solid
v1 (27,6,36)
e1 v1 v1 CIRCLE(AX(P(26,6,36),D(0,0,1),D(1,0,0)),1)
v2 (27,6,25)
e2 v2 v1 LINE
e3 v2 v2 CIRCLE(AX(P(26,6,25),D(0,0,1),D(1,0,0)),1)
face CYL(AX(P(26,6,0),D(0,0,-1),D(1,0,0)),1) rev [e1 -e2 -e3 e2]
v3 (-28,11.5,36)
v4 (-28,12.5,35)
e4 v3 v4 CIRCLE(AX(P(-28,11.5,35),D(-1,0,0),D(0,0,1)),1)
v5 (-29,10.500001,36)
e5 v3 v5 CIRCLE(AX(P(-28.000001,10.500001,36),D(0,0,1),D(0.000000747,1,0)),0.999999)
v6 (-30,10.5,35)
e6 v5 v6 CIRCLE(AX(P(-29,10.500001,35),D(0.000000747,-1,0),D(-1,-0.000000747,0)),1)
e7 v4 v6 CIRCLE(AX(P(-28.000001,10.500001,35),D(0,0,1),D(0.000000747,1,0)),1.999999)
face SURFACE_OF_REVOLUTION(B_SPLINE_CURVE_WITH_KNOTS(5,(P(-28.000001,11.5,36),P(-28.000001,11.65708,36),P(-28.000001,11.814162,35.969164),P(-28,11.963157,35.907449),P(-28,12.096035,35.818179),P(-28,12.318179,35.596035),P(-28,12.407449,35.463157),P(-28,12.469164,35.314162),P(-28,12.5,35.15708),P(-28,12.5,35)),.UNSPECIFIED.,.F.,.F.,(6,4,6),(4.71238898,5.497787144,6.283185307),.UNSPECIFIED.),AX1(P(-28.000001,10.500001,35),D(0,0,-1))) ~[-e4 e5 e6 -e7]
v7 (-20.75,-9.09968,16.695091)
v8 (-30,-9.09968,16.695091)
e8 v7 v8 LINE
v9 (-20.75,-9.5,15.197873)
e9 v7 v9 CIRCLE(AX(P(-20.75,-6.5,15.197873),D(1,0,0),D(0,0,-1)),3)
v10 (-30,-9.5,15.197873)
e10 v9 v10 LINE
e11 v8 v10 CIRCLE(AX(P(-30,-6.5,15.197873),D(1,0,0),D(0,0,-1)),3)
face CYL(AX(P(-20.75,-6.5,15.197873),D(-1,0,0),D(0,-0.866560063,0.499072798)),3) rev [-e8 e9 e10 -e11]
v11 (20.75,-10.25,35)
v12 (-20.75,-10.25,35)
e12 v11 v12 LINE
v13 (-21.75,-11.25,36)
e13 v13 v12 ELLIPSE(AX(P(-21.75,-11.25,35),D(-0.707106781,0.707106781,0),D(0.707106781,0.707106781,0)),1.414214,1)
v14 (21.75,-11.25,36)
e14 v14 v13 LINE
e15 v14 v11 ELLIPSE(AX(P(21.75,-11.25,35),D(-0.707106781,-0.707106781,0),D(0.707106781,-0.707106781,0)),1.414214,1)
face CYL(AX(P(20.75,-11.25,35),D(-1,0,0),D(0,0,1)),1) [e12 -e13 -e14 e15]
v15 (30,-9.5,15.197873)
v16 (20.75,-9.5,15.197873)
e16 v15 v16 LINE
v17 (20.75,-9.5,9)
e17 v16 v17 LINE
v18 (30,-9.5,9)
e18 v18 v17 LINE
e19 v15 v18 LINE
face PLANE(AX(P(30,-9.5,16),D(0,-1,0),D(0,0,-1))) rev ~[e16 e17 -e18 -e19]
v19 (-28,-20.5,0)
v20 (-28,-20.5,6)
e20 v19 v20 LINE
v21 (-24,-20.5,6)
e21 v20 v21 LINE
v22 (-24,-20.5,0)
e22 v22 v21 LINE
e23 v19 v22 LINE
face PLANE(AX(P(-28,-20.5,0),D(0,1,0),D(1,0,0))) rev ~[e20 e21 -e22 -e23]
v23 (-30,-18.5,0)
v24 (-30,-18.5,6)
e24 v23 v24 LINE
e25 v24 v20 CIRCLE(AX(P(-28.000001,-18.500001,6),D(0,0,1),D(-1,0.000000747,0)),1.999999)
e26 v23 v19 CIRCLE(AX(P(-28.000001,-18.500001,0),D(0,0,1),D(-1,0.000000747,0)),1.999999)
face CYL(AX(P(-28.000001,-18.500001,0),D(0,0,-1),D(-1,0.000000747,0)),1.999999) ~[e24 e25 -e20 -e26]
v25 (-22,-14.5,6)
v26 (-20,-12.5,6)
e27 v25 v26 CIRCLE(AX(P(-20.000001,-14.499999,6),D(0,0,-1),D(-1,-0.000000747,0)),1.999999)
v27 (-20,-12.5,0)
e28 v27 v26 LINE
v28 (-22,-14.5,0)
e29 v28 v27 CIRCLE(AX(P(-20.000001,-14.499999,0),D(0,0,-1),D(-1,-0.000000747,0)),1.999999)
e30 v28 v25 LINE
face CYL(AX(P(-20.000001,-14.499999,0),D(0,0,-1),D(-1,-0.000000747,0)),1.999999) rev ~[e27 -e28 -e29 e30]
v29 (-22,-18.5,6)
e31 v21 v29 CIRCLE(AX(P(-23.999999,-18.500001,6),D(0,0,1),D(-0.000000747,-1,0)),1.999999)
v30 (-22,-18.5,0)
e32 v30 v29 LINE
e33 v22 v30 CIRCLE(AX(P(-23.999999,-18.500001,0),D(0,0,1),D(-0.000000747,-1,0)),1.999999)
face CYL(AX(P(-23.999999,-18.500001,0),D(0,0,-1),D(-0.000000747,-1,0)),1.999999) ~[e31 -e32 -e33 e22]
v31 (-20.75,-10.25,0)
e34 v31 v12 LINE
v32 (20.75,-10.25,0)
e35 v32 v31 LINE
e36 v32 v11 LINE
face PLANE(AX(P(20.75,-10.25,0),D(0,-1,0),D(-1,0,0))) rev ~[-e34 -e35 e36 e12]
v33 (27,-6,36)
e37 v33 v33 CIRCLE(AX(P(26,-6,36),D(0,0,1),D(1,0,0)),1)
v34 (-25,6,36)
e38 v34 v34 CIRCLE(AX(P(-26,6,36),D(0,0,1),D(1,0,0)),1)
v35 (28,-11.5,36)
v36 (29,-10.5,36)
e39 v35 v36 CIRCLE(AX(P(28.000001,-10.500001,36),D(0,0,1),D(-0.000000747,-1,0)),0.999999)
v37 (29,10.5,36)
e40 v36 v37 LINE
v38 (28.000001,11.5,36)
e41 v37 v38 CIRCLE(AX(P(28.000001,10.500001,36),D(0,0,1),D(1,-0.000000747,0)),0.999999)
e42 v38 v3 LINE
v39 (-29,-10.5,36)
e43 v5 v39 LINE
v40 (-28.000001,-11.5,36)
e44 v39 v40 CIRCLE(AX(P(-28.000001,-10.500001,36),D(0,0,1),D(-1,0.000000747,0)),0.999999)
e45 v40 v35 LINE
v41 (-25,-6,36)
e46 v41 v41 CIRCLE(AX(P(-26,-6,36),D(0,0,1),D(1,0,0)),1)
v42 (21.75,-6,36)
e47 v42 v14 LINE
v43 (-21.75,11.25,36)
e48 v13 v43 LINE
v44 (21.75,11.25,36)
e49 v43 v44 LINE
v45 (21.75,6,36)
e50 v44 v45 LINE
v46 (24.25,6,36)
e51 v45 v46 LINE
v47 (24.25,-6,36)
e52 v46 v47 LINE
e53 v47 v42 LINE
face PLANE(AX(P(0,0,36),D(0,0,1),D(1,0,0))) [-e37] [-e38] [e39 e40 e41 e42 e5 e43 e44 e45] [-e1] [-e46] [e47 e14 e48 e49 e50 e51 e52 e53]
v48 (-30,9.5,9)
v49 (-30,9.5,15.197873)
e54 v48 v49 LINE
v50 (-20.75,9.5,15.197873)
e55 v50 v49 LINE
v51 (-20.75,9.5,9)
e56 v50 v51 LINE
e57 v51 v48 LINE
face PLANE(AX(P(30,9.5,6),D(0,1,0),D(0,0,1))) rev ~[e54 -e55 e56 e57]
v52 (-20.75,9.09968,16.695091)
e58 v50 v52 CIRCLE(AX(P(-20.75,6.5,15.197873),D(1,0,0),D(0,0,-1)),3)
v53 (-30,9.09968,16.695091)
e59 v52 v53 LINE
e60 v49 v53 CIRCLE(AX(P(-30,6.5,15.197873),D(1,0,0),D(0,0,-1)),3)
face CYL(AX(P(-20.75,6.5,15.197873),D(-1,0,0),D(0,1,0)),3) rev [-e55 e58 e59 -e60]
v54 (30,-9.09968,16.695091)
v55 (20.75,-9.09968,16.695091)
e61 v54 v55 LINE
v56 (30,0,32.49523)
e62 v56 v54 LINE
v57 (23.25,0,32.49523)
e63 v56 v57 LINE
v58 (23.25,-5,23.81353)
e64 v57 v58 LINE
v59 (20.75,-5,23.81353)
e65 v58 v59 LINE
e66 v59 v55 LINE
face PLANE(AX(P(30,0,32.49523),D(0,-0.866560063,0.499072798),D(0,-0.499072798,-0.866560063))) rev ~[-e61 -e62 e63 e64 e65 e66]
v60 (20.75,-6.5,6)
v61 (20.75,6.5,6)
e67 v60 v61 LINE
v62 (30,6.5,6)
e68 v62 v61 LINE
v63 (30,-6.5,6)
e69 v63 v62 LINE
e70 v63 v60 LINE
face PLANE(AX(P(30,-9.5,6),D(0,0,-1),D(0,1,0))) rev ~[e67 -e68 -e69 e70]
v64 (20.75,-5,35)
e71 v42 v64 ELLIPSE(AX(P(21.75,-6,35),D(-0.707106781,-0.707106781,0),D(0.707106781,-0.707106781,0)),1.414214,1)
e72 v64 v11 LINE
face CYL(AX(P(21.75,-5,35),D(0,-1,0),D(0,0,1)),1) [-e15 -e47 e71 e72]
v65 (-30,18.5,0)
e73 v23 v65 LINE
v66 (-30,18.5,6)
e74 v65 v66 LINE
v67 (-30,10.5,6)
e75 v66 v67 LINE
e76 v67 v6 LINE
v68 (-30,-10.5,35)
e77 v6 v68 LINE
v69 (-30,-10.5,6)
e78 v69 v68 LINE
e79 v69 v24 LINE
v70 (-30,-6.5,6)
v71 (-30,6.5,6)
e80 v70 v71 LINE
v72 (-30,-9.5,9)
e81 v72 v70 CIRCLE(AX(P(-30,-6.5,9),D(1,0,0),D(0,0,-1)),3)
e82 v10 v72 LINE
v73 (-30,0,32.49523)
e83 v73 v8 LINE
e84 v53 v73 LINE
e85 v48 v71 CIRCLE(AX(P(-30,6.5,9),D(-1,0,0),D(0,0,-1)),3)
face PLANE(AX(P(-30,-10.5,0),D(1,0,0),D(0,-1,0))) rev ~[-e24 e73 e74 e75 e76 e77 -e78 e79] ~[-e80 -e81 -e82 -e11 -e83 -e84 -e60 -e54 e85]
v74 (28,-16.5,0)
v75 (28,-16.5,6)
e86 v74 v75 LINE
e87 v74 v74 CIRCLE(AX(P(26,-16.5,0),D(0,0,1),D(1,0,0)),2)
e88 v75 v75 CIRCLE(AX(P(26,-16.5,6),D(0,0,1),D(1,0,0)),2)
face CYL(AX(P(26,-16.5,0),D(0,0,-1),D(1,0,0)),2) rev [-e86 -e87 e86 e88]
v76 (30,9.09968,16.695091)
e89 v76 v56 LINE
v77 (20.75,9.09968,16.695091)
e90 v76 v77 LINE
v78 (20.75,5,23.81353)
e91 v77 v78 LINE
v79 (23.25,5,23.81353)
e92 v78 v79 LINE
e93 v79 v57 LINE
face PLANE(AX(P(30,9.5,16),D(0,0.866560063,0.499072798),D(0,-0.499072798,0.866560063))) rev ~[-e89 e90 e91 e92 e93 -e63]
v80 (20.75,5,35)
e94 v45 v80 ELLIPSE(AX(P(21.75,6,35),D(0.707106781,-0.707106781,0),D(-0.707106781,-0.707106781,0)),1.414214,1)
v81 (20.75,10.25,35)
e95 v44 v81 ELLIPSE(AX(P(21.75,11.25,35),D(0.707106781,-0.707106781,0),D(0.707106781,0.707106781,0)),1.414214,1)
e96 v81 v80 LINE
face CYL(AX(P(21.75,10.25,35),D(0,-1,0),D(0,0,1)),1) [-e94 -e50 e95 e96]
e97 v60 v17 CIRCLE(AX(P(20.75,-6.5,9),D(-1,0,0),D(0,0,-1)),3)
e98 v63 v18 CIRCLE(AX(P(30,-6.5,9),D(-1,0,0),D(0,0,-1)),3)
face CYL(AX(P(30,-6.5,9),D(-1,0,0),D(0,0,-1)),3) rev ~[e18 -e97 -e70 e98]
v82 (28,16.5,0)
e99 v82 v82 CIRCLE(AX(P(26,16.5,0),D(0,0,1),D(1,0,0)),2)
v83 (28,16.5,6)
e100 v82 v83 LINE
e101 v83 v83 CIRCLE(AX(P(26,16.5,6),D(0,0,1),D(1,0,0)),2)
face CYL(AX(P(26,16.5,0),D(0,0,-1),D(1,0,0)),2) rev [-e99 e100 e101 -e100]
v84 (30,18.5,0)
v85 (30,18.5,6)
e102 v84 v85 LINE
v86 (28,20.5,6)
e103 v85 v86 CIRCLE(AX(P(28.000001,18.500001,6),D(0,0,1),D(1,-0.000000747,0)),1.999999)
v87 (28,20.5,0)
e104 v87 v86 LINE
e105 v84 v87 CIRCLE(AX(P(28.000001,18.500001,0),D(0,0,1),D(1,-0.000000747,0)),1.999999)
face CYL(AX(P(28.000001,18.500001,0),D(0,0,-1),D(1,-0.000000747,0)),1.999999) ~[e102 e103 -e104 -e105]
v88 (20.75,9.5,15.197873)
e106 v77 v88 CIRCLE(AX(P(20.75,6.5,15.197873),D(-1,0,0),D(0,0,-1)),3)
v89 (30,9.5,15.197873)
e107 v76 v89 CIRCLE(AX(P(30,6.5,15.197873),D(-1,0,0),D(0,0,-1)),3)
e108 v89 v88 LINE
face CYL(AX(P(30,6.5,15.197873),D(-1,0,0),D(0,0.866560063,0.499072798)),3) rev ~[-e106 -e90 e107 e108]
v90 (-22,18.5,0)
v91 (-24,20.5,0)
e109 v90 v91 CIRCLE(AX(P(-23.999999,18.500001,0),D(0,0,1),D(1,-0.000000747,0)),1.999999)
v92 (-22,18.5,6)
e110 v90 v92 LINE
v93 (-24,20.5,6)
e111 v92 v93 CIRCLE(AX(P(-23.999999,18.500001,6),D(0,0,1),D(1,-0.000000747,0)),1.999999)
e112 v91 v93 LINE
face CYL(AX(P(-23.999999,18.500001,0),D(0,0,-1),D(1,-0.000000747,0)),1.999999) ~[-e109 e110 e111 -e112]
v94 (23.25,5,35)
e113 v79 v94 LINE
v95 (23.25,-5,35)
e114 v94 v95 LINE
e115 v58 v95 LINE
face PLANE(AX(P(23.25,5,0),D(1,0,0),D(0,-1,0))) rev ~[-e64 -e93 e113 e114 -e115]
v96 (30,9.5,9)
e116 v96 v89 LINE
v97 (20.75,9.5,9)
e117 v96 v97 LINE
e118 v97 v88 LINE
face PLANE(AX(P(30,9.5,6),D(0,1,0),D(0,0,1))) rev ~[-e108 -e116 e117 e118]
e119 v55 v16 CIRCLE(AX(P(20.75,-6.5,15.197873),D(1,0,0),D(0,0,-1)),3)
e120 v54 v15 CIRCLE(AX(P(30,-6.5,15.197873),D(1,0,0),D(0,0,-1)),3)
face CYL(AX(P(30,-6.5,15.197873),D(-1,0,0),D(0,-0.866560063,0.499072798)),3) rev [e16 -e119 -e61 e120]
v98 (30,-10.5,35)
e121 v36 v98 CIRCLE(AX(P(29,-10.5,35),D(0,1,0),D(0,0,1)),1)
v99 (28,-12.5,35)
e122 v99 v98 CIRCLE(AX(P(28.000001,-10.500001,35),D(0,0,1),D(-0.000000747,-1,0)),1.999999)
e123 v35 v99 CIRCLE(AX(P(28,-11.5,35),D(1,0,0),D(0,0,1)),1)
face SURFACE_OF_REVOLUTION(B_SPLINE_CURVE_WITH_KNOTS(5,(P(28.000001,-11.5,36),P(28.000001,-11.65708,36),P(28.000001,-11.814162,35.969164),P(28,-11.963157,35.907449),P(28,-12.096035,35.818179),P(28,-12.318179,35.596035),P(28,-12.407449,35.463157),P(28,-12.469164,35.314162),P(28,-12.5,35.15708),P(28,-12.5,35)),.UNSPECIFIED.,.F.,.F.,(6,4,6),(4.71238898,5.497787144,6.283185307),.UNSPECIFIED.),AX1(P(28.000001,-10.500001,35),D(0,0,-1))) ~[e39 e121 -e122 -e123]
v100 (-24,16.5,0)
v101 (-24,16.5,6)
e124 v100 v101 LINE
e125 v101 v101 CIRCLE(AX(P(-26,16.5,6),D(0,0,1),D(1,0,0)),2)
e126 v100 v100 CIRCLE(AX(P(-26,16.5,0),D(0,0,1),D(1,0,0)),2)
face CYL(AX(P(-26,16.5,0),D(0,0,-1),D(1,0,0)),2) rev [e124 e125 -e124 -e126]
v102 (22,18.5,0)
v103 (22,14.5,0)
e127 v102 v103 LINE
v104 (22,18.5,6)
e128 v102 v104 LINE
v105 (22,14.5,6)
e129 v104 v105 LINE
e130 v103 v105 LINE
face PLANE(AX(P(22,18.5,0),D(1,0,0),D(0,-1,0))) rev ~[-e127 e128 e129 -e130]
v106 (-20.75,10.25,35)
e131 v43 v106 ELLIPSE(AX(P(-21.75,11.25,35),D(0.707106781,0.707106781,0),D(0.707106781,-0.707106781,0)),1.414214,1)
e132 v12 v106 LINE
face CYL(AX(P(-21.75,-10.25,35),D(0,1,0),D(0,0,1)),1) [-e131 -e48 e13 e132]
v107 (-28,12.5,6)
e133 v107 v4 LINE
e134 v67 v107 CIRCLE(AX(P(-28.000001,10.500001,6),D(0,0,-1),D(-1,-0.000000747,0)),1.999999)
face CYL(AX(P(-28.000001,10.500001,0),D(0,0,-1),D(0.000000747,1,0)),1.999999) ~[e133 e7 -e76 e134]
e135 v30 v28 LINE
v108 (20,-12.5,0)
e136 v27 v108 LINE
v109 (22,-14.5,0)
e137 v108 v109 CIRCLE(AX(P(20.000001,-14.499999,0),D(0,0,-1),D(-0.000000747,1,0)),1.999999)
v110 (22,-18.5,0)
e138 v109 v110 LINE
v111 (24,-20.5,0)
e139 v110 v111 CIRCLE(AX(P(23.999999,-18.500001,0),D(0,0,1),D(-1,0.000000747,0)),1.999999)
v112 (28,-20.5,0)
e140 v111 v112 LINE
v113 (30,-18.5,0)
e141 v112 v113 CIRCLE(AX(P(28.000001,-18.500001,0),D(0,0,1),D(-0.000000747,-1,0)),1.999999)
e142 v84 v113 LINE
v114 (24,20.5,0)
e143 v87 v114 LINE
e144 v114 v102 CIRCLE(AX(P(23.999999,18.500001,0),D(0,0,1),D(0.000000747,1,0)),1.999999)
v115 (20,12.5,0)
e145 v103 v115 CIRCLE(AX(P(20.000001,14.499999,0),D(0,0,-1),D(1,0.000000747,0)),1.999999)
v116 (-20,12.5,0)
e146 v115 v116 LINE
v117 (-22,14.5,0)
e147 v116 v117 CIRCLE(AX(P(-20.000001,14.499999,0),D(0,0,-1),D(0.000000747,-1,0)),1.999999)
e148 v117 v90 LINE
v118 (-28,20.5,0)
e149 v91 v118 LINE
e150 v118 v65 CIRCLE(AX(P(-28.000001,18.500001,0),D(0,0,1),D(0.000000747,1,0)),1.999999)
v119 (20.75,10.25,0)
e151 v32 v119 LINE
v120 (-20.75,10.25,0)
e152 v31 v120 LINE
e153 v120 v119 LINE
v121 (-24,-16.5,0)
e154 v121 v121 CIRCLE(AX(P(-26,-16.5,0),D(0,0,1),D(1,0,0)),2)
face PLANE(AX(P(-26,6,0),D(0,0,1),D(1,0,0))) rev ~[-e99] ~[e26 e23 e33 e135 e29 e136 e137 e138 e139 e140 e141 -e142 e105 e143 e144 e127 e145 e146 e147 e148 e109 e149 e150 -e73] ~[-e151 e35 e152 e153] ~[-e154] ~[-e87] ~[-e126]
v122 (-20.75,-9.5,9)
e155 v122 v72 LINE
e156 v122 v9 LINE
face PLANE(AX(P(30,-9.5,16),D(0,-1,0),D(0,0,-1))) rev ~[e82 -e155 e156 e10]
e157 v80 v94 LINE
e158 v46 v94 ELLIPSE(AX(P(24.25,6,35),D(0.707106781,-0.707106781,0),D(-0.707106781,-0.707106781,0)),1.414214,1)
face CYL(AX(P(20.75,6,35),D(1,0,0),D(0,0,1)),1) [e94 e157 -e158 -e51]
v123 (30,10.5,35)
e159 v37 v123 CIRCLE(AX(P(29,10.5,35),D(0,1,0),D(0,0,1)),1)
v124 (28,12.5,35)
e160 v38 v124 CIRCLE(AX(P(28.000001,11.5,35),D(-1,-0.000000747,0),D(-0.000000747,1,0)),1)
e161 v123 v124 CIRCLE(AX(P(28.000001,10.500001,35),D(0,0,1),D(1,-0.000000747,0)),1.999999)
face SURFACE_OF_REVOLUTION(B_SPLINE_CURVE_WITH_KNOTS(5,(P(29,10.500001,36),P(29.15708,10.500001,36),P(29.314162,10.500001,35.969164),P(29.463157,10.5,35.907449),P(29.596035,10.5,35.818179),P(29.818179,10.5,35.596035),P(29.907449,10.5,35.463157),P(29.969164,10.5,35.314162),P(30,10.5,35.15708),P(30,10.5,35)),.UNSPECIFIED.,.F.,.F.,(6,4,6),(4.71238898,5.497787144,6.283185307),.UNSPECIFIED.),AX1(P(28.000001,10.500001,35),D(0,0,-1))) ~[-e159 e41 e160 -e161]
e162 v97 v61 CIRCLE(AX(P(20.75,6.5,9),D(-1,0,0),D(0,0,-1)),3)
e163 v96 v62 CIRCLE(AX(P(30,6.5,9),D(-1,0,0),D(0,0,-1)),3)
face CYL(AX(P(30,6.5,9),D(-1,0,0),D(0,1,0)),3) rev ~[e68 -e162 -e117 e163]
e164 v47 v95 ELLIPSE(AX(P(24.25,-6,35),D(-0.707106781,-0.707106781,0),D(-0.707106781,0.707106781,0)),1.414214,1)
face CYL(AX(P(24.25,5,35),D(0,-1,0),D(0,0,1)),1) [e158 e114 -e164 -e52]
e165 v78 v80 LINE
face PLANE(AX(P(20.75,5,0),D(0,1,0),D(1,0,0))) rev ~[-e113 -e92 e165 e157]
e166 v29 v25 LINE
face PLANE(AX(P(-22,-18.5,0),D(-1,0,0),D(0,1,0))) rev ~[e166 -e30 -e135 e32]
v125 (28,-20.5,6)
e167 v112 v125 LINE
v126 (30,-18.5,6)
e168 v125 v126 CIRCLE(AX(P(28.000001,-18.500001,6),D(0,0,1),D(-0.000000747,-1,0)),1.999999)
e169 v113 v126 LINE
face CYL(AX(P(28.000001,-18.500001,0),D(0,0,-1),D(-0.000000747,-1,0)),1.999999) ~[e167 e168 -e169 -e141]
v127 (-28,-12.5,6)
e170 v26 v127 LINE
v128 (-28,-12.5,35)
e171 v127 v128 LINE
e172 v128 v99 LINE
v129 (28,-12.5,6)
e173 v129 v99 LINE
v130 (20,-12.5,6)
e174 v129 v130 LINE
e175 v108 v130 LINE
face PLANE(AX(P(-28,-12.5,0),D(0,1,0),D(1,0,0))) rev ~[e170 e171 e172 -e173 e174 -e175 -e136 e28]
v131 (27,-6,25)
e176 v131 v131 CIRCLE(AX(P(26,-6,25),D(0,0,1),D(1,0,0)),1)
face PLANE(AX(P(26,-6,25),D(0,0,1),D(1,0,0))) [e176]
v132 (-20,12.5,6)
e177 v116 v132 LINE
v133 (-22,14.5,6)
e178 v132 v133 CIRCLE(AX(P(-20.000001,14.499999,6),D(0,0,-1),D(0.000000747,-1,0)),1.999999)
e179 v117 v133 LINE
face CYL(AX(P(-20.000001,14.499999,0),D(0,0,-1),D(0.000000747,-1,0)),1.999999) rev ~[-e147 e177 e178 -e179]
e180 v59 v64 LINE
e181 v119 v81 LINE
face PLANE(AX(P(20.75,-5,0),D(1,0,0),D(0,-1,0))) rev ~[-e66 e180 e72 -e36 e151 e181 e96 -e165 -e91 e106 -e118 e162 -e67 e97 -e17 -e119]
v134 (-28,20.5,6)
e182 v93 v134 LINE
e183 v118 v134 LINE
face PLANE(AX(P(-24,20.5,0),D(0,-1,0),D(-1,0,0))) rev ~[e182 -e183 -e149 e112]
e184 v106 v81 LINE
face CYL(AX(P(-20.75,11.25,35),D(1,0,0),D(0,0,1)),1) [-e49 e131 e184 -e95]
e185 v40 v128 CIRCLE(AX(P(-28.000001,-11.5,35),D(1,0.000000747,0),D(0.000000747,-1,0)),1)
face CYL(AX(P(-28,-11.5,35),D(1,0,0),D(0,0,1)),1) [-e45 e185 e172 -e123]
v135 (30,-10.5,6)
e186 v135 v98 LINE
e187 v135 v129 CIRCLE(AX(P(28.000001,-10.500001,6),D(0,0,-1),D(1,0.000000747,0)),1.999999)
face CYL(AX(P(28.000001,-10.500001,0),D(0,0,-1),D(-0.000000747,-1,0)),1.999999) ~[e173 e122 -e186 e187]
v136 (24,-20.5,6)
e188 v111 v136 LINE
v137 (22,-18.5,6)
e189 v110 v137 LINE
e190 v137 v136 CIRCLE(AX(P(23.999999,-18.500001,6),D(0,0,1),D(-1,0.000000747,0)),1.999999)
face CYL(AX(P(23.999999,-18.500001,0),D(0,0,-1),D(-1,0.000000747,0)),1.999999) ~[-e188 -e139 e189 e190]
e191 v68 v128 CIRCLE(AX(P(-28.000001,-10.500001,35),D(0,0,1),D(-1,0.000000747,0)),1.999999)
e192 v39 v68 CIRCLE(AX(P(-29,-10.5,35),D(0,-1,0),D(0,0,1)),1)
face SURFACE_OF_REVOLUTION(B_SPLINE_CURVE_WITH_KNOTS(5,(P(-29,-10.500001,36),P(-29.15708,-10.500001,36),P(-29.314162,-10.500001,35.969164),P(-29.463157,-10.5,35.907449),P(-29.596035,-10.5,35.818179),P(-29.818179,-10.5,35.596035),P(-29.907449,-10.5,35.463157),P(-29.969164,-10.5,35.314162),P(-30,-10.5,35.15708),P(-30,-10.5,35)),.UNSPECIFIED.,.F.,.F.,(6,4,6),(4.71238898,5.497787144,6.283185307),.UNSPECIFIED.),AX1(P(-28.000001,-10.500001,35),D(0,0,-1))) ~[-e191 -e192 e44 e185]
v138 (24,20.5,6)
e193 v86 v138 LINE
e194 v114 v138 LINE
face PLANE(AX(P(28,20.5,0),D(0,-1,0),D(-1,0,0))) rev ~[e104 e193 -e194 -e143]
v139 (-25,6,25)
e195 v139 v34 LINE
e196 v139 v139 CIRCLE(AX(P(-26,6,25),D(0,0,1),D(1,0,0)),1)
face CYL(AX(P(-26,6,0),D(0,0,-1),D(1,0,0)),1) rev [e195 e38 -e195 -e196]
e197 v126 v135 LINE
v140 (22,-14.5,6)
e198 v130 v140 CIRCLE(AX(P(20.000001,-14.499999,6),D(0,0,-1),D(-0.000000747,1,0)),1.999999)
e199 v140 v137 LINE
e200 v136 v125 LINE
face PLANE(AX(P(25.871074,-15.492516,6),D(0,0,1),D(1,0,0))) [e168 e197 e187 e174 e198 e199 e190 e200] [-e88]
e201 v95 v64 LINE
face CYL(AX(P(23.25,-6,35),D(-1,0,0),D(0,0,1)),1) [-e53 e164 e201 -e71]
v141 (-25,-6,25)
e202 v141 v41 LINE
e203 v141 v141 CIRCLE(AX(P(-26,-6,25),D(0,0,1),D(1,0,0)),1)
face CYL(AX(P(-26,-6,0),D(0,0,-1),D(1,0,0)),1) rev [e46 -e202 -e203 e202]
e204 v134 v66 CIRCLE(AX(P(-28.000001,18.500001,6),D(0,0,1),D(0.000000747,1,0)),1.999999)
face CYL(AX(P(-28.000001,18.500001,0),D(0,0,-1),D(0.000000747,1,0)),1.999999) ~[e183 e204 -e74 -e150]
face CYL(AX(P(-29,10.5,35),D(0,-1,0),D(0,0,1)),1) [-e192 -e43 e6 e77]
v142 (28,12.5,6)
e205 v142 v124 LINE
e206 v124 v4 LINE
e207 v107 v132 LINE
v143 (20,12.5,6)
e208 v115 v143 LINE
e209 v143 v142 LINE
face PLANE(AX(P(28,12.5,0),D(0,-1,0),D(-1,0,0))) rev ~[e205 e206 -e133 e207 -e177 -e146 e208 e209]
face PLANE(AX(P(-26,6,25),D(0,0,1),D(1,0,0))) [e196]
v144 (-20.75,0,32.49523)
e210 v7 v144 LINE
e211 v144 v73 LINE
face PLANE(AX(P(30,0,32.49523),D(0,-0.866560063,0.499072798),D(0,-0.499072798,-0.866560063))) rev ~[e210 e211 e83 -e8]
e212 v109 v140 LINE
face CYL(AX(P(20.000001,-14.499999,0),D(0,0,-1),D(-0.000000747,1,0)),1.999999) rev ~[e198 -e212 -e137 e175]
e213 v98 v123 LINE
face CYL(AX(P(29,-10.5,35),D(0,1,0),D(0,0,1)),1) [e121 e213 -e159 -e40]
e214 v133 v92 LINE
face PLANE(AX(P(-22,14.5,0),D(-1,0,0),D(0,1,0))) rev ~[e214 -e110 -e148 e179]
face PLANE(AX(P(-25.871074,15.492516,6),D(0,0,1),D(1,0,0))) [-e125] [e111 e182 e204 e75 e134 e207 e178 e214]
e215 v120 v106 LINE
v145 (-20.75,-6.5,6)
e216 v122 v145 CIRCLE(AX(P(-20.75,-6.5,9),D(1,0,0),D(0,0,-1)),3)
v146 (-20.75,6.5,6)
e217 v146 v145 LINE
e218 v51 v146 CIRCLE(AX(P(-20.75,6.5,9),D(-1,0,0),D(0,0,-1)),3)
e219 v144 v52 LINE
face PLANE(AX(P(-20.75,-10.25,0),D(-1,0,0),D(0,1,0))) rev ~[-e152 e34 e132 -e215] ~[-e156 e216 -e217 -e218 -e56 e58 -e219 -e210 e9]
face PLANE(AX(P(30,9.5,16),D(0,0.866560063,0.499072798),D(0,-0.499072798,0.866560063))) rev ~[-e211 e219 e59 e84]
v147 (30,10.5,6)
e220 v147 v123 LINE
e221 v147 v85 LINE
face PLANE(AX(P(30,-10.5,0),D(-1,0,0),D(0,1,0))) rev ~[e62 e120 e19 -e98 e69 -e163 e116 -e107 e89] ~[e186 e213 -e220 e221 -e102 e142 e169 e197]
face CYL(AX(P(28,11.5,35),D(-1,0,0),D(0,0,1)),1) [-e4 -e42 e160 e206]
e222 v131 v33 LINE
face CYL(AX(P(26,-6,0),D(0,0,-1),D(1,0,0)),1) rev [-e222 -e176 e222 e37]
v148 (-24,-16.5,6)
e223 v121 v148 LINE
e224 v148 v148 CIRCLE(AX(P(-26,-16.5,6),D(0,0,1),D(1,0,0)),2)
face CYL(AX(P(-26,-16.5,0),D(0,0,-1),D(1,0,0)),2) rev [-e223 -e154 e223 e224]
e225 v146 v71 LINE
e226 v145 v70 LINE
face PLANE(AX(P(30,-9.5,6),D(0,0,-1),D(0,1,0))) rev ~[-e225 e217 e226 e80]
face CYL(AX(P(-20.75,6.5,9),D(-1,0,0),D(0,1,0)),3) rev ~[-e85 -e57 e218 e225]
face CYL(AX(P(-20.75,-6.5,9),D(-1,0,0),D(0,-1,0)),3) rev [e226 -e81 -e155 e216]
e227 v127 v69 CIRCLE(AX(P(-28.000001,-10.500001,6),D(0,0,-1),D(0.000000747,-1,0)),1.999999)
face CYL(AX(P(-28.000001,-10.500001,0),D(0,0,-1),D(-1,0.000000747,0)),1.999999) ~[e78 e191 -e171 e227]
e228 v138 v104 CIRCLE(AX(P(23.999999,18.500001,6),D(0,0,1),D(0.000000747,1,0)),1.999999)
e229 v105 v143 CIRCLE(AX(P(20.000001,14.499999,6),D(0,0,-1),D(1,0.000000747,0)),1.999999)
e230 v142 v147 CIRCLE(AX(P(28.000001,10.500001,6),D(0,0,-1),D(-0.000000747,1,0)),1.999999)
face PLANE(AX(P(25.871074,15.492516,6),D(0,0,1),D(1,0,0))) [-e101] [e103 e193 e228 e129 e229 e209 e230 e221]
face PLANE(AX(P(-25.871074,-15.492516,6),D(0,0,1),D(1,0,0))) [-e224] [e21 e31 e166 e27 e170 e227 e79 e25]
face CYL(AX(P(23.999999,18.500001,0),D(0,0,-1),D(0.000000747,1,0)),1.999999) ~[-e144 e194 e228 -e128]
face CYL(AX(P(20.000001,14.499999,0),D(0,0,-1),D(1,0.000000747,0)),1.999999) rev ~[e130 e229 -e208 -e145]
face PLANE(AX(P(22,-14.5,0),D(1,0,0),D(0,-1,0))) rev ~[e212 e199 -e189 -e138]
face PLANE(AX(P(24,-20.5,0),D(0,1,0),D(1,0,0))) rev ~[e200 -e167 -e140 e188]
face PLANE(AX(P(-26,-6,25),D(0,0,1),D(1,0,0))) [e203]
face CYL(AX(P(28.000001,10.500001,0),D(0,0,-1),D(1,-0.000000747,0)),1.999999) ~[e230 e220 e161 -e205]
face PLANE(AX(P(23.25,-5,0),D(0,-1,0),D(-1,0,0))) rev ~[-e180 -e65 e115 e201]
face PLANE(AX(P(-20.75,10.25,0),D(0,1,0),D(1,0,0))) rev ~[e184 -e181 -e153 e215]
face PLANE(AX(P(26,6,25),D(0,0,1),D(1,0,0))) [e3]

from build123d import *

# Parameters (mm, degrees)
F0_R     = 1
F1_DEPTH = 36
F0_R_2   = 2
F2_DEPTH = 6
F3_R     = 1
F4_R     = 1
F5_DEPTH = 25
F7_DEPTH = 100
F8_R     = 3


with BuildPart() as f1:
    # F0 (on Top) → F1 (new body)
    with BuildSketch(Plane.XY):
        with BuildLine():
            Line((-20, -12.5), (20, -12.5))
            Line((20, -12.5), (22, -12.5))
            Line((22, -12.5), (28, -12.5))
            ThreePointArc((28, -12.5), (29.414214, -11.914214), (30, -10.5))
            Line((30, -10.5), (30, 10.5))
            ThreePointArc((30, 10.5), (29.414214, 11.914214), (28, 12.5))
            Line((28, 12.5), (22, 12.5))
            Line((22, 12.5), (20, 12.5))
            Line((20, 12.5), (-20, 12.5))
            Line((-20, 12.5), (-28, 12.5))
            ThreePointArc((-28, 12.5), (-29.414214, 11.914214), (-30, 10.5))
            Line((-30, 10.5), (-30, -10.5))
            ThreePointArc((-30, -10.5), (-29.414214, -11.914214), (-28, -12.5))
            Line((-28, -12.5), (-22, -12.5))
            Line((-22, -12.5), (-20, -12.5))
        make_face()
        with Locations((-26, -6)):
            Circle(F0_R, mode=Mode.SUBTRACT)
        with Locations((26, -6)):
            Circle(F0_R, mode=Mode.SUBTRACT)
        with Locations((-26, 6)):
            Circle(F0_R, mode=Mode.SUBTRACT)
        Polygon((20.75, -10.25), (-20.75, -10.25), (-20.75, 10.25), (20.75, 10.25), (20.75, 5), (23.25, 5), (23.25, -5), (20.75, -5), align=None, mode=Mode.SUBTRACT)
        with Locations((26, 6)):
            Circle(F0_R, mode=Mode.SUBTRACT)
    extrude(amount=F1_DEPTH)

    # F0 (on Top) → F2 (join)
    with BuildSketch(Plane.XY):
        with BuildLine():
            ThreePointArc((-22, -14.5), (-21.414214, -13.085786), (-20, -12.5))
            Line((-20, -12.5), (-22, -12.5))
            Line((-22, -12.5), (-28, -12.5))
            ThreePointArc((-28, -12.5), (-29.414214, -11.914214), (-30, -10.5))
            Line((-30, -10.5), (-30, -12.5))
            Line((-30, -12.5), (-30, -18.5))
            ThreePointArc((-30, -18.5), (-29.414214, -19.914214), (-28, -20.5))
            Line((-28, -20.5), (-24, -20.5))
            ThreePointArc((-24, -20.5), (-22.585786, -19.914214), (-22, -18.5))
            Line((-22, -18.5), (-22, -14.5))
        make_face()
        with Locations((-26, -16.5)):
            Circle(F0_R_2, mode=Mode.SUBTRACT)
        with BuildLine():
            Line((22, -12.5), (20, -12.5))
            ThreePointArc((20, -12.5), (21.414214, -13.085786), (22, -14.5))
            Line((22, -14.5), (22, -18.5))
            ThreePointArc((22, -18.5), (22.585786, -19.914214), (24, -20.5))
            Line((24, -20.5), (28, -20.5))
            ThreePointArc((28, -20.5), (29.414214, -19.914214), (30, -18.5))
            Line((30, -18.5), (30, -12.5))
            Line((30, -12.5), (30, -10.5))
            ThreePointArc((30, -10.5), (29.414214, -11.914214), (28, -12.5))
            Line((28, -12.5), (22, -12.5))
        make_face()
        with Locations((26, -16.5)):
            Circle(F0_R_2, mode=Mode.SUBTRACT)
        with BuildLine():
            ThreePointArc((28, 12.5), (29.414214, 11.914214), (30, 10.5))
            Line((30, 10.5), (30, 12.5))
            Line((30, 12.5), (30, 18.5))
            ThreePointArc((30, 18.5), (29.414214, 19.914214), (28, 20.5))
            Line((28, 20.5), (24, 20.5))
            ThreePointArc((24, 20.5), (22.585786, 19.914214), (22, 18.5))
            Line((22, 18.5), (22, 14.5))
            ThreePointArc((22, 14.5), (21.414214, 13.085786), (20, 12.5))
            Line((20, 12.5), (22, 12.5))
            Line((22, 12.5), (28, 12.5))
        make_face()
        with Locations((26, 16.5)):
            Circle(F0_R_2, mode=Mode.SUBTRACT)
        with BuildLine():
            Line((-30, 12.5), (-30, 10.5))
            ThreePointArc((-30, 10.5), (-29.414214, 11.914214), (-28, 12.5))
            Line((-28, 12.5), (-20, 12.5))
            ThreePointArc((-20, 12.5), (-21.414214, 13.085786), (-22, 14.5))
            Line((-22, 14.5), (-22, 18.5))
            ThreePointArc((-22, 18.5), (-22.585786, 19.914214), (-24, 20.5))
            Line((-24, 20.5), (-28, 20.5))
            ThreePointArc((-28, 20.5), (-29.414214, 19.914214), (-30, 18.5))
            Line((-30, 18.5), (-30, 12.5))
        make_face()
        with Locations((-26, 16.5)):
            Circle(F0_R_2, mode=Mode.SUBTRACT)
        Polygon((20.75, 0), (20.75, -5), (23.25, -5), (23.25, 5), (20.75, 5), align=None)
    extrude(amount=F2_DEPTH)

    # F3
    f3_edges = [f1.edges().sort_by_distance(p)[0] for p in [
        (0, 10.25, 36),
        (-20.75, 0, 36),
        (20.75, 7.625, 36),
        (20.75, -7.625, 36),
        (0, -10.25, 36),
        (22, -5, 36),
        (23.25, 0, 36),
        (22, 5, 36),
    ]]
    fillet(f3_edges, radius=F3_R)

    # F4
    f4_edges = [f1.edges().sort_by_distance(p)[0] for p in [
        (30, 0, 36),
        (0, 12.5, 36),
        (0, -12.5, 36),
        (29.414214, -11.914214, 36),
        (29.414214, 11.914214, 36),
        (-30, 0, 36),
        (-29.414214, 11.914214, 36),
        (-29.414214, -11.914214, 36),
    ]]
    fillet(f4_edges, radius=F4_R)

    # F0 (on Top) → F5 (join)
    with BuildSketch(Plane.XY):
        with Locations((-26, 6)):
            Circle(F0_R)
        with Locations((-26, -6)):
            Circle(F0_R)
        with Locations((26, -6)):
            Circle(F0_R)
        with Locations((26, 6)):
            Circle(F0_R)
    extrude(amount=F5_DEPTH)

    # F6 (on face) → F7 (cut)
    with BuildSketch(Plane.YZ.offset(30)):
        Polygon((-9.5, 6), (9.5, 6), (9.5, 16), (0, 32.49523), (-9.5, 16), align=None)
    extrude(amount=-F7_DEPTH, mode=Mode.SUBTRACT)

    # F8
    f8_edges = [f1.edges().sort_by_distance(p)[0] for p in [
        (25.375, -9.5, 6),
        (-25.375, -9.5, 6),
        (25.375, 9.5, 6),
        (-25.375, 9.5, 6),
        (25.375, 9.5, 16),
        (-25.375, 9.5, 16),
        (25.375, -9.5, 16),
        (-25.375, -9.5, 16),
    ]]
    fillet(f8_edges, radius=F8_R)


solid = f1.part
